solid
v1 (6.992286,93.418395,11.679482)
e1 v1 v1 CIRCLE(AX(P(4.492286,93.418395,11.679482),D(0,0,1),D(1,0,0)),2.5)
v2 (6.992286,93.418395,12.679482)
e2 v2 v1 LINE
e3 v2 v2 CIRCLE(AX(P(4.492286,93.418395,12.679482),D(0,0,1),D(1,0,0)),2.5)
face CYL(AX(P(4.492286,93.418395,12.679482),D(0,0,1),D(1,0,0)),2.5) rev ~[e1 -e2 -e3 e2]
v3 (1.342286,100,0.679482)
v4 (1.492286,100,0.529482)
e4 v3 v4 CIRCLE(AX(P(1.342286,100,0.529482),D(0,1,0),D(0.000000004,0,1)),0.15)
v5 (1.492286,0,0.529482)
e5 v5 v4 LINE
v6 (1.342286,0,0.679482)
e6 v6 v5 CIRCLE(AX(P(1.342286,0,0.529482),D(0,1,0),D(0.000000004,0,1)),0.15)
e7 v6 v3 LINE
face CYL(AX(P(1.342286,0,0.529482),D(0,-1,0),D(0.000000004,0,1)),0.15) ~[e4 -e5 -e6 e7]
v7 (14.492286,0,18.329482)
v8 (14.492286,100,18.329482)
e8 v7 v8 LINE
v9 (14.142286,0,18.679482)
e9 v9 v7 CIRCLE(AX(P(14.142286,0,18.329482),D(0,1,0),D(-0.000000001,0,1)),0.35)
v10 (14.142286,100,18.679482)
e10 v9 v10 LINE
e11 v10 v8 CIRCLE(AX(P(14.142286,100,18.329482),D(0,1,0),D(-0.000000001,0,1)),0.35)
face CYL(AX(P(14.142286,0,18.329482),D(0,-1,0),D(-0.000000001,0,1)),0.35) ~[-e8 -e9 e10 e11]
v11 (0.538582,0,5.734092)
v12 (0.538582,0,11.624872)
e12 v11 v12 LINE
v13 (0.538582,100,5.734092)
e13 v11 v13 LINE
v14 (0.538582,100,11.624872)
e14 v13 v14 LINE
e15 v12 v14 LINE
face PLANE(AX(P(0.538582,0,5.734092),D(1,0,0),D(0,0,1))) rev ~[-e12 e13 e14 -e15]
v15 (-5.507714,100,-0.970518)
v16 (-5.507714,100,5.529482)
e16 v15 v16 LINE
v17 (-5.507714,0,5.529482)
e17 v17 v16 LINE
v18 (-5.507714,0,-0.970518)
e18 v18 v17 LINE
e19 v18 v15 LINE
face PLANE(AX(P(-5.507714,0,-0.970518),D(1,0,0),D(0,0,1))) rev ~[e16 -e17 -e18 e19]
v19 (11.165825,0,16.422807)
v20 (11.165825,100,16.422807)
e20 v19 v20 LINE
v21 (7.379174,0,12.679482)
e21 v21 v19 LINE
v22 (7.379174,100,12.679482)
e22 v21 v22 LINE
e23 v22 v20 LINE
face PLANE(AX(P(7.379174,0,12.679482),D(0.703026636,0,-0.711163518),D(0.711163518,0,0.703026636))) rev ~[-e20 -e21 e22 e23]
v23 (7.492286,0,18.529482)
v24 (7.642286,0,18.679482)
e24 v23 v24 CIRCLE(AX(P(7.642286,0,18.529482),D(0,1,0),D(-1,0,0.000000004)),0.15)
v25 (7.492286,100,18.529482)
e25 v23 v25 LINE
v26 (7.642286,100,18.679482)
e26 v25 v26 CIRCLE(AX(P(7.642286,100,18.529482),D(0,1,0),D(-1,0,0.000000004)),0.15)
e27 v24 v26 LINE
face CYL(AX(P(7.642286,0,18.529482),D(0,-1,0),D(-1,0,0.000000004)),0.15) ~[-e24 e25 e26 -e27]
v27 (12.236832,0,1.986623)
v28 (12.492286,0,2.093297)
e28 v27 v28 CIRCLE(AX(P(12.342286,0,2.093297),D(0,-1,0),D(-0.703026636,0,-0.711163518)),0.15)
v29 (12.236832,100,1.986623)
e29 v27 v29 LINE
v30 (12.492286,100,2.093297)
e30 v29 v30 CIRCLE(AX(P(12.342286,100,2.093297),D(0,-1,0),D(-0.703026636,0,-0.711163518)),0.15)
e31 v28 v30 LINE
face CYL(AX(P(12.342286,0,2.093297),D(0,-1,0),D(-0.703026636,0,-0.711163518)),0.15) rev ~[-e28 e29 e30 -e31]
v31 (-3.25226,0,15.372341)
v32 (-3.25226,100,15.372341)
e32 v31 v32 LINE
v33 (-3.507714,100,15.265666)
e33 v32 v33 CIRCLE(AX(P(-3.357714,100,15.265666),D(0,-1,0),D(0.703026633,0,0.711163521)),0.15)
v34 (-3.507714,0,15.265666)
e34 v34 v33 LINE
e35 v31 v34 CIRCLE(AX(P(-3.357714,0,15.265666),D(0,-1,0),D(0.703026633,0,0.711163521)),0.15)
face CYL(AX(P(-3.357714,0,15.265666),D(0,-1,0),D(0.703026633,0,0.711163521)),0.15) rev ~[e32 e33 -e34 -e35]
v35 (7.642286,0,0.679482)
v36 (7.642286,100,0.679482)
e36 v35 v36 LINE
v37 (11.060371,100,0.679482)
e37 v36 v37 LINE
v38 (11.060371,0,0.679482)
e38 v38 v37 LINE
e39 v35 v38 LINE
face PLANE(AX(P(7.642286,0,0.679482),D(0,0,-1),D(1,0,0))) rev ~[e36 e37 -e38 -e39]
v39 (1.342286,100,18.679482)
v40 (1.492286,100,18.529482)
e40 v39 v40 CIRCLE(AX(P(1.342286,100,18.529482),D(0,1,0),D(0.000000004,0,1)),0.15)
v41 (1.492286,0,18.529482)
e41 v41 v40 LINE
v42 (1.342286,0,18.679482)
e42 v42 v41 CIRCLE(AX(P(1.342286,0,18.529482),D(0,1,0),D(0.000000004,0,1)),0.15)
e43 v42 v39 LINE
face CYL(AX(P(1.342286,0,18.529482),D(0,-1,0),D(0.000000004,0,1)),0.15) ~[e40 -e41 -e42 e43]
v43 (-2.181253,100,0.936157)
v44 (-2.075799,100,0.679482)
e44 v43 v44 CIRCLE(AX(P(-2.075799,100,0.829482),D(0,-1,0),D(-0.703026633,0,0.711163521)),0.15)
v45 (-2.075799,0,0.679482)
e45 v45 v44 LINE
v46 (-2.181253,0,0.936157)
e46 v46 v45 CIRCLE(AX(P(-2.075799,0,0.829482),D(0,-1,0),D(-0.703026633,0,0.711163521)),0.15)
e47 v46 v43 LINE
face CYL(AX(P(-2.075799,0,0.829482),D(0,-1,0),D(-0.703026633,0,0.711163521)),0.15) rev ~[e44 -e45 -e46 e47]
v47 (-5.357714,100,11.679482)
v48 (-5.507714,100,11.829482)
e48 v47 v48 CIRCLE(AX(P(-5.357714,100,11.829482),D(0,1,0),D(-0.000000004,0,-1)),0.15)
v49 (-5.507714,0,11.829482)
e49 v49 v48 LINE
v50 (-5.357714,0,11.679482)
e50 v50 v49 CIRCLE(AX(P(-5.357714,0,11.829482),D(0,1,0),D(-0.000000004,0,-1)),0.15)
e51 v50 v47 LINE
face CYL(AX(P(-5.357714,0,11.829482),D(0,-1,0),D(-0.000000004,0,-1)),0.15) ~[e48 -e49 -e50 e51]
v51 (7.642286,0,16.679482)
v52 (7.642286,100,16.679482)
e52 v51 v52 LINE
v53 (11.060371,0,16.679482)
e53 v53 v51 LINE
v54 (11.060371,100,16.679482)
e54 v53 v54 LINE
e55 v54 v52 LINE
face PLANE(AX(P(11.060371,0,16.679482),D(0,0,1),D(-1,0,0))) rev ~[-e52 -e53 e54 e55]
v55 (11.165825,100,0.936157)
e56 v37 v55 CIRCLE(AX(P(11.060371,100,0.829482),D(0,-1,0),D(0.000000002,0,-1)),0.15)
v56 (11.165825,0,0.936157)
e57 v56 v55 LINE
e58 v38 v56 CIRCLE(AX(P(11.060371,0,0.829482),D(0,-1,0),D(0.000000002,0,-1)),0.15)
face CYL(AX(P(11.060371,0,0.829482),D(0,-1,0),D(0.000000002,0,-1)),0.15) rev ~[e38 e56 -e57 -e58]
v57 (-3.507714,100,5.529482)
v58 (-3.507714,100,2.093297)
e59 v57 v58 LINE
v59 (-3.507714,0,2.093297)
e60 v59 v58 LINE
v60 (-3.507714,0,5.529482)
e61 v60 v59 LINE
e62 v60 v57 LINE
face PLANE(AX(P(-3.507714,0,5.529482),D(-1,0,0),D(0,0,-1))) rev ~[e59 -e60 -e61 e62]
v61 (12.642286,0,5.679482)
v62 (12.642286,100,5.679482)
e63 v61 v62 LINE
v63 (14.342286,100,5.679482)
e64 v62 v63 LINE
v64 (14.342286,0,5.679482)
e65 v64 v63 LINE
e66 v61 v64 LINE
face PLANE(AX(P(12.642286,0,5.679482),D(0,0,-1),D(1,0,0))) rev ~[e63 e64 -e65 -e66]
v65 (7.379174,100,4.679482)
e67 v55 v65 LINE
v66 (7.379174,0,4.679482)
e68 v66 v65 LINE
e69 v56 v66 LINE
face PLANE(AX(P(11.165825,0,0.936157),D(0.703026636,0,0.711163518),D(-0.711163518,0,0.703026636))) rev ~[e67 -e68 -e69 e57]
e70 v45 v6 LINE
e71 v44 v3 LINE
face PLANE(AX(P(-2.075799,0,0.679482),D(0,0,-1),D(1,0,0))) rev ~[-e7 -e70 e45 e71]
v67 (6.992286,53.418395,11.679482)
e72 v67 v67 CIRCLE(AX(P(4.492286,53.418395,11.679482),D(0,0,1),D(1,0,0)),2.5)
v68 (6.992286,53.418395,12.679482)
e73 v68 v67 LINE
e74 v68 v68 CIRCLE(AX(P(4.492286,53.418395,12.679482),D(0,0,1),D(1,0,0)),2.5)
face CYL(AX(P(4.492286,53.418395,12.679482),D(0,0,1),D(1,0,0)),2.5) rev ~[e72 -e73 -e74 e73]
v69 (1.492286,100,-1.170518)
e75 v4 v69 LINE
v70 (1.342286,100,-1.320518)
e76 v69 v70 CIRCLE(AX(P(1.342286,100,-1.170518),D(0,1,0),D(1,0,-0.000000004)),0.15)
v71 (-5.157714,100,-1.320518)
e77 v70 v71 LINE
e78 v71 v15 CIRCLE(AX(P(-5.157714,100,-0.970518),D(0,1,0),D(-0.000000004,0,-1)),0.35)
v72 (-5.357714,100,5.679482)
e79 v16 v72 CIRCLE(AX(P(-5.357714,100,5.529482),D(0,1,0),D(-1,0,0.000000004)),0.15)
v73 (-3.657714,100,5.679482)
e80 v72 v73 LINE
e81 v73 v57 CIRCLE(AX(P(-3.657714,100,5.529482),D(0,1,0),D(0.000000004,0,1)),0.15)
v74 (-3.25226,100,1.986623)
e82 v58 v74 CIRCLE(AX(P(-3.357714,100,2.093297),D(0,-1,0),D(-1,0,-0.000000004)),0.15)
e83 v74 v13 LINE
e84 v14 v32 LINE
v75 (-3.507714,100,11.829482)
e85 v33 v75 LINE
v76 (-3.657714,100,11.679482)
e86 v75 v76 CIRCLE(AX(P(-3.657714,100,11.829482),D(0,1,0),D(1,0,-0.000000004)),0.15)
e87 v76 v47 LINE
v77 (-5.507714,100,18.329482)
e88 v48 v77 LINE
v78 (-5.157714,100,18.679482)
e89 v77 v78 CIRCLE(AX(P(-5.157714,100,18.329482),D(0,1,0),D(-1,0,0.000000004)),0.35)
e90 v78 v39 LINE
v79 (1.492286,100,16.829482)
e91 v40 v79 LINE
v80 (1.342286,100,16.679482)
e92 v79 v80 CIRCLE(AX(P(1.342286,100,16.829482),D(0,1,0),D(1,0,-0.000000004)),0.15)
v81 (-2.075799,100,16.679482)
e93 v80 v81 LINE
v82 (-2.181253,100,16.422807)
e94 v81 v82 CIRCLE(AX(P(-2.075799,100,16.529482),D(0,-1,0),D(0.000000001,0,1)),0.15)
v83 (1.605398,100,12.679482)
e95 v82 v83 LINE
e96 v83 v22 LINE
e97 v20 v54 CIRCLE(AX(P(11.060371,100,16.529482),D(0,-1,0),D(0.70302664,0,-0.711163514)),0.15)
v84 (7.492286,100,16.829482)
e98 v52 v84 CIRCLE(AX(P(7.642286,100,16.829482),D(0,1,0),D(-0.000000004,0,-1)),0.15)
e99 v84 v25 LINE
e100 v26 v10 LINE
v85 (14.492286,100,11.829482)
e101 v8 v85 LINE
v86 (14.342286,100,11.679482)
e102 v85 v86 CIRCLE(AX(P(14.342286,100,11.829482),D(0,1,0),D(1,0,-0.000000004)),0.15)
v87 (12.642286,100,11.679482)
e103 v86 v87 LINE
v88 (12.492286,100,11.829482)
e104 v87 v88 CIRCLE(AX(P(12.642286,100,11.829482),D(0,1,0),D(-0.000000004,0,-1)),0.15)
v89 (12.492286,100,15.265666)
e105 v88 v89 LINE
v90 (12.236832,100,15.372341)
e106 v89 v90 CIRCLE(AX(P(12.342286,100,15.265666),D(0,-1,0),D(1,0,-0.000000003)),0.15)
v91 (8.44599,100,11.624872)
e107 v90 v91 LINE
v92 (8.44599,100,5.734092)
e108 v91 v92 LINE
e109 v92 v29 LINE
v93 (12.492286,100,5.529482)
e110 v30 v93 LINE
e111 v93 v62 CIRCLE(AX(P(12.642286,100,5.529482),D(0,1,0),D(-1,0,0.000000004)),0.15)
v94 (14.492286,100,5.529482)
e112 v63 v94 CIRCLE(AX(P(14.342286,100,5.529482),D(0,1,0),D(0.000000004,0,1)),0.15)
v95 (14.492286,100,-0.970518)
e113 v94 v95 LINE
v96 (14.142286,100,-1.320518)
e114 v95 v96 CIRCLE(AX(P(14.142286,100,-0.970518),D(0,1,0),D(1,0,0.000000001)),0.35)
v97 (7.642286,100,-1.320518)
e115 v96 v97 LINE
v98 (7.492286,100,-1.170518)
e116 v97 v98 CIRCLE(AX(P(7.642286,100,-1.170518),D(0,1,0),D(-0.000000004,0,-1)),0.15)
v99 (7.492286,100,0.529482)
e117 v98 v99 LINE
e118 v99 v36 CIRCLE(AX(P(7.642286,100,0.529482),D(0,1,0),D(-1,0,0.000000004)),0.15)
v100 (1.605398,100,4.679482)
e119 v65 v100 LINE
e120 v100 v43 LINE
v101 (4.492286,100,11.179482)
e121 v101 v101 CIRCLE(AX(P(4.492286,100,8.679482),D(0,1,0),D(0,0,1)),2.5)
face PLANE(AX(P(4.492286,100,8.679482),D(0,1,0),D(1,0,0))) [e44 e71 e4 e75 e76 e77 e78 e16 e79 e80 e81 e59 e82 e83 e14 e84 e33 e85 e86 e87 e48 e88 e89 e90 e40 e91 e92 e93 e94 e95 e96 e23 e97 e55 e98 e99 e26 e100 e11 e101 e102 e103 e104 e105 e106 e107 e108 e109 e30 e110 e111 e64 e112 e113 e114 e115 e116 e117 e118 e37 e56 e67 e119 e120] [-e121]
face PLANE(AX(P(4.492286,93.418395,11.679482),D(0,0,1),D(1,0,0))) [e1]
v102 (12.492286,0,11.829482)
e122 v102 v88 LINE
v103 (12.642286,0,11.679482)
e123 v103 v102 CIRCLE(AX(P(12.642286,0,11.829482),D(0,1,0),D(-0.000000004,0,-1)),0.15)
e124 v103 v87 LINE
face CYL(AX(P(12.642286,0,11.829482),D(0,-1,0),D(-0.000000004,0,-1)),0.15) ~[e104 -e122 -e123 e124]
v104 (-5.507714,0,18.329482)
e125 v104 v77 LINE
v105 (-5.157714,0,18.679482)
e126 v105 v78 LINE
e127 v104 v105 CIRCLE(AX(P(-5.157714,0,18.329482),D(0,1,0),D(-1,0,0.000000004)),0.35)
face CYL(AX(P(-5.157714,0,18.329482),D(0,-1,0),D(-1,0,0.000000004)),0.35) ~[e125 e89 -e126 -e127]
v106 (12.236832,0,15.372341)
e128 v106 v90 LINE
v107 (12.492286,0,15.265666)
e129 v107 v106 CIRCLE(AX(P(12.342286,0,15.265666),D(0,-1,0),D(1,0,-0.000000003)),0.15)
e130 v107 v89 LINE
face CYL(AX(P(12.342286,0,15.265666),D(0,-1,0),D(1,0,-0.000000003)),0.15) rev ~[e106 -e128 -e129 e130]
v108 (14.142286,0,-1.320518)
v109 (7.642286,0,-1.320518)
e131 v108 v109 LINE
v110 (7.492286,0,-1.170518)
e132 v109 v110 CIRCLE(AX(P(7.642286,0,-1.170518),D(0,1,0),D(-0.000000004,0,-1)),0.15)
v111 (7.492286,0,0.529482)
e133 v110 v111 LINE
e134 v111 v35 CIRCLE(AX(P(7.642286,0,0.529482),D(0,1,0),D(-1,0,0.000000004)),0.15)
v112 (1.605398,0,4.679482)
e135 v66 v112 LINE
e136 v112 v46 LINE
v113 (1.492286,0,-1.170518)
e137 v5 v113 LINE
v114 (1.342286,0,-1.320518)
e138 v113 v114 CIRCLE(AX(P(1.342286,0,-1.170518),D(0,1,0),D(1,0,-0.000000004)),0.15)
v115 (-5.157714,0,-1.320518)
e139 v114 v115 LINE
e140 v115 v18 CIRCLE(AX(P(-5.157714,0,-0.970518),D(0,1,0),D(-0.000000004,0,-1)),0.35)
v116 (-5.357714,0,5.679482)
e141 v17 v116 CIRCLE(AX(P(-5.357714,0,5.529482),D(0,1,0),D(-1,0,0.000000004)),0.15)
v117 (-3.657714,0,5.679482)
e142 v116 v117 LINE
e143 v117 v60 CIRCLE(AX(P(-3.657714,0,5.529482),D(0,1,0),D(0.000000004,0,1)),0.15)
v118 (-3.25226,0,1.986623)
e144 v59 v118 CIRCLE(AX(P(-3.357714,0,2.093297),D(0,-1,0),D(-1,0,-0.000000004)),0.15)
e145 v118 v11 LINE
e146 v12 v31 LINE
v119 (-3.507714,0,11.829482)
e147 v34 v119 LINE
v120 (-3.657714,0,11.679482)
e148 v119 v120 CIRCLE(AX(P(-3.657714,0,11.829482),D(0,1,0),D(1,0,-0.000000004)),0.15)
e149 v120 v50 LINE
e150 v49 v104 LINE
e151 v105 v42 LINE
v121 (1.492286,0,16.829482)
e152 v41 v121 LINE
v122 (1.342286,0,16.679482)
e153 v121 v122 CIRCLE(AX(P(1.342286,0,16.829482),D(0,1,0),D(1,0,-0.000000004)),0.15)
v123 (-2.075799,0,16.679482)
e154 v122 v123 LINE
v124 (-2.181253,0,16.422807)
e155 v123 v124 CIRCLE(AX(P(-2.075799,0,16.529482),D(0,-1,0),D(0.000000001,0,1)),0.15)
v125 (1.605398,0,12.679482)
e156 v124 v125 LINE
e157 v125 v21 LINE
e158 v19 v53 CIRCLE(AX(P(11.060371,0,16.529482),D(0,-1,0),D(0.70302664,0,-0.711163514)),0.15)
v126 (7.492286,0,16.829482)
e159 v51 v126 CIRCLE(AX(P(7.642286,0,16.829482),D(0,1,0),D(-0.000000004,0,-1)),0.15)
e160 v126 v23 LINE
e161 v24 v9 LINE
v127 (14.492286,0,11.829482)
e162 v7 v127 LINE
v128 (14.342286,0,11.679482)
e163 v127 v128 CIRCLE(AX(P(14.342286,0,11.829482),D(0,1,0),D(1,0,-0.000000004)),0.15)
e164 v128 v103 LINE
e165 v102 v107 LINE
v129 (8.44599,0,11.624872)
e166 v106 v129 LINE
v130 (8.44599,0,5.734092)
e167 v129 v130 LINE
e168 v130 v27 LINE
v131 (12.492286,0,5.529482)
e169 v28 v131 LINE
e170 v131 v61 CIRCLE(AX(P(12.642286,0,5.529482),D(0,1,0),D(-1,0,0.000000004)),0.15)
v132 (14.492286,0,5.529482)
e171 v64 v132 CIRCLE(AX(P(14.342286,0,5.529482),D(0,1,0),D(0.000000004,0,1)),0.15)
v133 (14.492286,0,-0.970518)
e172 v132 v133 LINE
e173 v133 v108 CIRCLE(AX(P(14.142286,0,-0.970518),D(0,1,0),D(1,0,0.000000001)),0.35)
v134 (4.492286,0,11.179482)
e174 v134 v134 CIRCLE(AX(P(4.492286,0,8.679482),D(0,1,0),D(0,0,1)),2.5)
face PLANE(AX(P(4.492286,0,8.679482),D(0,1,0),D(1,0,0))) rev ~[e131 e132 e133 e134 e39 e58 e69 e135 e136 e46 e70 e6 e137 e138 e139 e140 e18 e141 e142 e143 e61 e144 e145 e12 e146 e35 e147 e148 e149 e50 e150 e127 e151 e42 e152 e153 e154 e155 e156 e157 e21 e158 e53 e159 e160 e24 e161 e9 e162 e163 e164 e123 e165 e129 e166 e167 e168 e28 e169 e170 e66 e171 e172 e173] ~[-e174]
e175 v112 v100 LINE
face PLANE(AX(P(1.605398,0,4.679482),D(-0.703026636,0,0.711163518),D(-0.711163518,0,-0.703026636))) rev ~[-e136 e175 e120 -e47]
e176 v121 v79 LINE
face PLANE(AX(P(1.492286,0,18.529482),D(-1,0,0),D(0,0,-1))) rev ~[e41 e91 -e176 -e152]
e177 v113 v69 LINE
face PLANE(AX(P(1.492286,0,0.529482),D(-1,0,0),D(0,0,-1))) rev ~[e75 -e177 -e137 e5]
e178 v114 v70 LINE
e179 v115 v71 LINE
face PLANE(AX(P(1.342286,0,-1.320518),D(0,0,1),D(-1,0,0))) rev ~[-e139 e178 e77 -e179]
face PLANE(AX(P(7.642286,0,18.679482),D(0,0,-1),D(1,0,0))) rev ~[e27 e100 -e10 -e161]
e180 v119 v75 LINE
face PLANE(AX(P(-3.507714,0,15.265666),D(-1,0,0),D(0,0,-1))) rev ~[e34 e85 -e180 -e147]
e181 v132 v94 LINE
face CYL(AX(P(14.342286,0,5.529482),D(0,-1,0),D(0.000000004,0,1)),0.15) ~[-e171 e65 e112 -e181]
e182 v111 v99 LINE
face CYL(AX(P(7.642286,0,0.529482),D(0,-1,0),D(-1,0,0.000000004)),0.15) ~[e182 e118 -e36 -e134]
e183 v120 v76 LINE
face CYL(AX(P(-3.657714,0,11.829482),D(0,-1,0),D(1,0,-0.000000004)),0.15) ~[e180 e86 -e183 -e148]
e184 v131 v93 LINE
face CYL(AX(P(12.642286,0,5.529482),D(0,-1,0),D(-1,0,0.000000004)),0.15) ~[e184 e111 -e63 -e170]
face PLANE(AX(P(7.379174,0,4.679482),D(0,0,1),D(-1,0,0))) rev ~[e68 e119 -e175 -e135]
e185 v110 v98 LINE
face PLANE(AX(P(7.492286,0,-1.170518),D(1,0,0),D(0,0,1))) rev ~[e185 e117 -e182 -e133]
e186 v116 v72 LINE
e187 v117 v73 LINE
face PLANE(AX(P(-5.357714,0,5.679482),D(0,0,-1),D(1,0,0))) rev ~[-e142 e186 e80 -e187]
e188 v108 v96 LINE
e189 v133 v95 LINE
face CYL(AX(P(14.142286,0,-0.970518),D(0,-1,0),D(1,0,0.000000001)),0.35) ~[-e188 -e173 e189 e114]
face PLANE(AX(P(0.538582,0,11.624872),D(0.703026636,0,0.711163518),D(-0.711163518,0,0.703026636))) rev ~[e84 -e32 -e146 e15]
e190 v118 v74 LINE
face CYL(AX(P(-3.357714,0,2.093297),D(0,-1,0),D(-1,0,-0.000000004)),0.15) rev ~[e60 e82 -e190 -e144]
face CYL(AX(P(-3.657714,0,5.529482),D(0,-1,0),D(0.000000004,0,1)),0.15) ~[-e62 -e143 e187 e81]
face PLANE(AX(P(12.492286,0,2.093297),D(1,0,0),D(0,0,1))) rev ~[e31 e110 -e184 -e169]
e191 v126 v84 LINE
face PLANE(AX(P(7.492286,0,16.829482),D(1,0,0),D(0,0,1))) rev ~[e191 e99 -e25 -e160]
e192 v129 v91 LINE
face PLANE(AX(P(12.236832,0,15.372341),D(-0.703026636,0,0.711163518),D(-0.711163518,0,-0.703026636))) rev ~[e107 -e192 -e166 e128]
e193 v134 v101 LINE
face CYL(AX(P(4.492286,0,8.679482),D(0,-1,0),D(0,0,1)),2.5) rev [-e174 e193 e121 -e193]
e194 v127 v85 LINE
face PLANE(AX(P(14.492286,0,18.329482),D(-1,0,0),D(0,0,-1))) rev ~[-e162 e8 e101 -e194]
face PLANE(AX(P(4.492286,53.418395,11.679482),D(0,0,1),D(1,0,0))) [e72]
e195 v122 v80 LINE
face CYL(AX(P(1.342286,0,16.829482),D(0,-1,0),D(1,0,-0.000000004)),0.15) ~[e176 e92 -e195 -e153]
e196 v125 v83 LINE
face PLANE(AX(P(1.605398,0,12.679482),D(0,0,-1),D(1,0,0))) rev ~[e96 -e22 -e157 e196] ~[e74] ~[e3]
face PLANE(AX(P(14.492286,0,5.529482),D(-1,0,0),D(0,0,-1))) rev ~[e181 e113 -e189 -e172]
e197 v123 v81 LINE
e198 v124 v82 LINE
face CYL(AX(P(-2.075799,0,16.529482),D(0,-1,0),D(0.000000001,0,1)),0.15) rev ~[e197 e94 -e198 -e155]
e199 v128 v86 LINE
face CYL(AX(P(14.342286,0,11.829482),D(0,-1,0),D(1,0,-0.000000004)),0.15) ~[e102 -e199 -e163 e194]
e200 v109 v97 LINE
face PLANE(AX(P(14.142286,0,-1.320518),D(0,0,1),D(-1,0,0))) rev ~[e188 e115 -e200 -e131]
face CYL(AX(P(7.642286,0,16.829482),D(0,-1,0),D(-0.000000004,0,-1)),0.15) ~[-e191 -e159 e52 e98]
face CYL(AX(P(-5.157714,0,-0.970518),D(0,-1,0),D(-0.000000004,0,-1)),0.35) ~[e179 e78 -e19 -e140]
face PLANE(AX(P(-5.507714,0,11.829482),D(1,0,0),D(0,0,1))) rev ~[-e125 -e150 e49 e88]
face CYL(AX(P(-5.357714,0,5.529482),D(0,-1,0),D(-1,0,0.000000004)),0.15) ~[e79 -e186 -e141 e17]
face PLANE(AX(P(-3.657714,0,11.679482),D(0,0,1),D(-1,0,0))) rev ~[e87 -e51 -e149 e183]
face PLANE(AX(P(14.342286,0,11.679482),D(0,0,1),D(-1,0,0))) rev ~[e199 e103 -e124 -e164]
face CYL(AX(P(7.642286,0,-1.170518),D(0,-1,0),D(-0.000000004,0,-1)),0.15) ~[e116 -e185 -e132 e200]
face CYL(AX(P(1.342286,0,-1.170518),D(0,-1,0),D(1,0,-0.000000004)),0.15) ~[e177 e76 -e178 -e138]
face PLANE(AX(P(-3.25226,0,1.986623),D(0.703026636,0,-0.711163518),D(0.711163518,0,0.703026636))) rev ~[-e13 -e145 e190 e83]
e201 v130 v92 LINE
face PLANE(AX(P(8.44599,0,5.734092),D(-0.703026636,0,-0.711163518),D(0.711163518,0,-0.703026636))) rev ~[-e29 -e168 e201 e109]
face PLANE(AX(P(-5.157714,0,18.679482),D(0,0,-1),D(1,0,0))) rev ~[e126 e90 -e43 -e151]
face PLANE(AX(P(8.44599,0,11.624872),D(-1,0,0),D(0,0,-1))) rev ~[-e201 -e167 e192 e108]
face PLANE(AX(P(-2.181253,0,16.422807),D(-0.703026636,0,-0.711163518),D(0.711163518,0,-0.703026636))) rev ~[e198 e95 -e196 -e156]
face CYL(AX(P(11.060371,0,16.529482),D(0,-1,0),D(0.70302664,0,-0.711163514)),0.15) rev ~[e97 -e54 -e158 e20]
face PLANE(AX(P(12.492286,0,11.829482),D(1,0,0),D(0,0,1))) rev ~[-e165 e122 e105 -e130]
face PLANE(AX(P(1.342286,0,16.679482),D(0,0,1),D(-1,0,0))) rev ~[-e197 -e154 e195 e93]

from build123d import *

# Parameters (mm, degrees)
SKETCH1_R           = 2.5
BOSS_EXTRUDE1_DEPTH = 100
SKETCH2_R           = 2.5
CUT_EXTRUDE1_DEPTH  = 1


with BuildPart() as part:
    # Sketch1 → Boss-Extrude1 (new body)
    with BuildSketch(Plane(origin=(0, 0, 0), x_dir=(1, 0, 0), z_dir=(0, 1, 0))):
        with BuildLine():
            Line((-5.357713917, -5.679481981), (-3.657713917, -5.679481981))
            ThreePointArc((-3.657713917, -5.679481981), (-3.5516479, -5.635547998), (-3.507713917, -5.529481981))
            Line((-3.507713917, -5.529481981), (-3.507713917, -2.093297468))
            ThreePointArc((-3.507713917, -2.093297468), (-3.415514871, -1.954881249), (-3.252259921, -1.98662294))
            Line((-3.252259921, -1.98662294), (0.53858238, -5.734091759))
            Line((0.53858238, -5.734091759), (0.53858238, -11.624872203))
            Line((0.53858238, -11.624872203), (-3.252259921, -15.372341022))
            ThreePointArc((-3.252259921, -15.372341022), (-3.415514871, -15.404082713), (-3.507713917, -15.265666494))
            Line((-3.507713917, -15.265666494), (-3.507713917, -11.829481981))
            ThreePointArc((-3.507713917, -11.829481981), (-3.5516479, -11.723415964), (-3.657713917, -11.679481981))
            Line((-3.657713917, -11.679481981), (-5.357713917, -11.679481981))
            ThreePointArc((-5.357713917, -11.679481981), (-5.463779934, -11.723415964), (-5.507713917, -11.829481981))
            Line((-5.507713917, -11.829481981), (-5.507713917, -18.329481981))
            ThreePointArc((-5.507713917, -18.329481981), (-5.40520129, -18.576969354), (-5.157713917, -18.679481981))
            Line((-5.157713917, -18.679481981), (1.342286083, -18.679481981))
            ThreePointArc((1.342286083, -18.679481981), (1.4483521, -18.635547998), (1.492286083, -18.529481981))
            Line((1.492286083, -18.529481981), (1.492286083, -16.829481981))
            ThreePointArc((1.492286083, -16.829481981), (1.4483521, -16.723415964), (1.342286083, -16.679481981))
            Line((1.342286083, -16.679481981), (-2.075798714, -16.679481981))
            ThreePointArc((-2.075798714, -16.679481981), (-2.214545208, -16.586485581), (-2.181252709, -16.422807453))
            Line((-2.181252709, -16.422807453), (1.605398289, -12.679481981))
            Line((1.605398289, -12.679481981), (7.379173877, -12.679481981))
            Line((7.379173877, -12.679481981), (11.165824876, -16.422807453))
            ThreePointArc((11.165824876, -16.422807453), (11.199117374, -16.586485581), (11.06037088, -16.679481981))
            Line((11.06037088, -16.679481981), (7.642286083, -16.679481981))
            ThreePointArc((7.642286083, -16.679481981), (7.536220066, -16.723415964), (7.492286083, -16.829481981))
            Line((7.492286083, -16.829481981), (7.492286083, -18.529481981))
            ThreePointArc((7.492286083, -18.529481981), (7.536220066, -18.635547998), (7.642286083, -18.679481981))
            Line((7.642286083, -18.679481981), (14.142286083, -18.679481981))
            ThreePointArc((14.142286083, -18.679481981), (14.389773457, -18.576969354), (14.492286083, -18.329481981))
            Line((14.492286083, -18.329481981), (14.492286083, -11.829481981))
            ThreePointArc((14.492286083, -11.829481981), (14.4483521, -11.723415964), (14.342286083, -11.679481981))
            Line((14.342286083, -11.679481981), (12.642286083, -11.679481981))
            ThreePointArc((12.642286083, -11.679481981), (12.536220066, -11.723415964), (12.492286083, -11.829481981))
            Line((12.492286083, -11.829481981), (12.492286083, -15.265666494))
            ThreePointArc((12.492286083, -15.265666494), (12.400087038, -15.404082713), (12.236832088, -15.372341022))
            Line((12.236832088, -15.372341022), (8.445989787, -11.624872203))
            Line((8.445989787, -11.624872203), (8.445989787, -5.734091759))
            Line((8.445989787, -5.734091759), (12.236832088, -1.98662294))
            ThreePointArc((12.236832088, -1.98662294), (12.400087038, -1.954881249), (12.492286083, -2.093297468))
            Line((12.492286083, -2.093297468), (12.492286083, -5.529481981))
            ThreePointArc((12.492286083, -5.529481981), (12.536220066, -5.635547998), (12.642286083, -5.679481981))
            Line((12.642286083, -5.679481981), (14.342286083, -5.679481981))
            ThreePointArc((14.342286083, -5.679481981), (14.4483521, -5.635547998), (14.492286083, -5.529481981))
            Line((14.492286083, -5.529481981), (14.492286083, 0.970518019))
            ThreePointArc((14.492286083, 0.970518019), (14.389773457, 1.218005392), (14.142286083, 1.320518019))
            Line((14.142286083, 1.320518019), (7.642286083, 1.320518019))
            ThreePointArc((7.642286083, 1.320518019), (7.536220066, 1.276584036), (7.492286083, 1.170518019))
            Line((7.492286083, 1.170518019), (7.492286083, -0.529481981))
            ThreePointArc((7.492286083, -0.529481981), (7.536220066, -0.635547998), (7.642286083, -0.679481981))
            Line((7.642286083, -0.679481981), (11.06037088, -0.679481981))
            ThreePointArc((11.06037088, -0.679481981), (11.199117374, -0.772478381), (11.165824876, -0.936156509))
            Line((11.165824876, -0.936156509), (7.379173877, -4.679481981))
            Line((7.379173877, -4.679481981), (1.605398289, -4.679481981))
            Line((1.605398289, -4.679481981), (-2.181252709, -0.936156509))
            ThreePointArc((-2.181252709, -0.936156509), (-2.214545208, -0.772478381), (-2.075798714, -0.679481981))
            Line((-2.075798714, -0.679481981), (1.342286083, -0.679481981))
            ThreePointArc((1.342286083, -0.679481981), (1.4483521, -0.635547998), (1.492286083, -0.529481981))
            Line((1.492286083, -0.529481981), (1.492286083, 1.170518019))
            ThreePointArc((1.492286083, 1.170518019), (1.4483521, 1.276584036), (1.342286083, 1.320518019))
            Line((1.342286083, 1.320518019), (-5.157713917, 1.320518019))
            ThreePointArc((-5.157713917, 1.320518019), (-5.40520129, 1.218005392), (-5.507713917, 0.970518019))
            Line((-5.507713917, 0.970518019), (-5.507713917, -5.529481981))
            ThreePointArc((-5.507713917, -5.529481981), (-5.463779934, -5.635547998), (-5.357713917, -5.679481981))
        make_face()
        with Locations(Location((4.492286083, -8.679481981, 0), (0, 0, 270))):
            Circle(SKETCH1_R, mode=Mode.SUBTRACT)
    extrude(amount=BOSS_EXTRUDE1_DEPTH)

    # Sketch2 → Cut-Extrude1 (cut)
    with BuildSketch(Plane.XY.offset(12.679481981)):
        with Locations((4.492286083, 53.418394615)):
            Circle(SKETCH2_R)
        with Locations((4.492286083, 93.418394615)):
            Circle(SKETCH2_R)
    extrude(amount=-CUT_EXTRUDE1_DEPTH, mode=Mode.SUBTRACT)


solid = part.part
